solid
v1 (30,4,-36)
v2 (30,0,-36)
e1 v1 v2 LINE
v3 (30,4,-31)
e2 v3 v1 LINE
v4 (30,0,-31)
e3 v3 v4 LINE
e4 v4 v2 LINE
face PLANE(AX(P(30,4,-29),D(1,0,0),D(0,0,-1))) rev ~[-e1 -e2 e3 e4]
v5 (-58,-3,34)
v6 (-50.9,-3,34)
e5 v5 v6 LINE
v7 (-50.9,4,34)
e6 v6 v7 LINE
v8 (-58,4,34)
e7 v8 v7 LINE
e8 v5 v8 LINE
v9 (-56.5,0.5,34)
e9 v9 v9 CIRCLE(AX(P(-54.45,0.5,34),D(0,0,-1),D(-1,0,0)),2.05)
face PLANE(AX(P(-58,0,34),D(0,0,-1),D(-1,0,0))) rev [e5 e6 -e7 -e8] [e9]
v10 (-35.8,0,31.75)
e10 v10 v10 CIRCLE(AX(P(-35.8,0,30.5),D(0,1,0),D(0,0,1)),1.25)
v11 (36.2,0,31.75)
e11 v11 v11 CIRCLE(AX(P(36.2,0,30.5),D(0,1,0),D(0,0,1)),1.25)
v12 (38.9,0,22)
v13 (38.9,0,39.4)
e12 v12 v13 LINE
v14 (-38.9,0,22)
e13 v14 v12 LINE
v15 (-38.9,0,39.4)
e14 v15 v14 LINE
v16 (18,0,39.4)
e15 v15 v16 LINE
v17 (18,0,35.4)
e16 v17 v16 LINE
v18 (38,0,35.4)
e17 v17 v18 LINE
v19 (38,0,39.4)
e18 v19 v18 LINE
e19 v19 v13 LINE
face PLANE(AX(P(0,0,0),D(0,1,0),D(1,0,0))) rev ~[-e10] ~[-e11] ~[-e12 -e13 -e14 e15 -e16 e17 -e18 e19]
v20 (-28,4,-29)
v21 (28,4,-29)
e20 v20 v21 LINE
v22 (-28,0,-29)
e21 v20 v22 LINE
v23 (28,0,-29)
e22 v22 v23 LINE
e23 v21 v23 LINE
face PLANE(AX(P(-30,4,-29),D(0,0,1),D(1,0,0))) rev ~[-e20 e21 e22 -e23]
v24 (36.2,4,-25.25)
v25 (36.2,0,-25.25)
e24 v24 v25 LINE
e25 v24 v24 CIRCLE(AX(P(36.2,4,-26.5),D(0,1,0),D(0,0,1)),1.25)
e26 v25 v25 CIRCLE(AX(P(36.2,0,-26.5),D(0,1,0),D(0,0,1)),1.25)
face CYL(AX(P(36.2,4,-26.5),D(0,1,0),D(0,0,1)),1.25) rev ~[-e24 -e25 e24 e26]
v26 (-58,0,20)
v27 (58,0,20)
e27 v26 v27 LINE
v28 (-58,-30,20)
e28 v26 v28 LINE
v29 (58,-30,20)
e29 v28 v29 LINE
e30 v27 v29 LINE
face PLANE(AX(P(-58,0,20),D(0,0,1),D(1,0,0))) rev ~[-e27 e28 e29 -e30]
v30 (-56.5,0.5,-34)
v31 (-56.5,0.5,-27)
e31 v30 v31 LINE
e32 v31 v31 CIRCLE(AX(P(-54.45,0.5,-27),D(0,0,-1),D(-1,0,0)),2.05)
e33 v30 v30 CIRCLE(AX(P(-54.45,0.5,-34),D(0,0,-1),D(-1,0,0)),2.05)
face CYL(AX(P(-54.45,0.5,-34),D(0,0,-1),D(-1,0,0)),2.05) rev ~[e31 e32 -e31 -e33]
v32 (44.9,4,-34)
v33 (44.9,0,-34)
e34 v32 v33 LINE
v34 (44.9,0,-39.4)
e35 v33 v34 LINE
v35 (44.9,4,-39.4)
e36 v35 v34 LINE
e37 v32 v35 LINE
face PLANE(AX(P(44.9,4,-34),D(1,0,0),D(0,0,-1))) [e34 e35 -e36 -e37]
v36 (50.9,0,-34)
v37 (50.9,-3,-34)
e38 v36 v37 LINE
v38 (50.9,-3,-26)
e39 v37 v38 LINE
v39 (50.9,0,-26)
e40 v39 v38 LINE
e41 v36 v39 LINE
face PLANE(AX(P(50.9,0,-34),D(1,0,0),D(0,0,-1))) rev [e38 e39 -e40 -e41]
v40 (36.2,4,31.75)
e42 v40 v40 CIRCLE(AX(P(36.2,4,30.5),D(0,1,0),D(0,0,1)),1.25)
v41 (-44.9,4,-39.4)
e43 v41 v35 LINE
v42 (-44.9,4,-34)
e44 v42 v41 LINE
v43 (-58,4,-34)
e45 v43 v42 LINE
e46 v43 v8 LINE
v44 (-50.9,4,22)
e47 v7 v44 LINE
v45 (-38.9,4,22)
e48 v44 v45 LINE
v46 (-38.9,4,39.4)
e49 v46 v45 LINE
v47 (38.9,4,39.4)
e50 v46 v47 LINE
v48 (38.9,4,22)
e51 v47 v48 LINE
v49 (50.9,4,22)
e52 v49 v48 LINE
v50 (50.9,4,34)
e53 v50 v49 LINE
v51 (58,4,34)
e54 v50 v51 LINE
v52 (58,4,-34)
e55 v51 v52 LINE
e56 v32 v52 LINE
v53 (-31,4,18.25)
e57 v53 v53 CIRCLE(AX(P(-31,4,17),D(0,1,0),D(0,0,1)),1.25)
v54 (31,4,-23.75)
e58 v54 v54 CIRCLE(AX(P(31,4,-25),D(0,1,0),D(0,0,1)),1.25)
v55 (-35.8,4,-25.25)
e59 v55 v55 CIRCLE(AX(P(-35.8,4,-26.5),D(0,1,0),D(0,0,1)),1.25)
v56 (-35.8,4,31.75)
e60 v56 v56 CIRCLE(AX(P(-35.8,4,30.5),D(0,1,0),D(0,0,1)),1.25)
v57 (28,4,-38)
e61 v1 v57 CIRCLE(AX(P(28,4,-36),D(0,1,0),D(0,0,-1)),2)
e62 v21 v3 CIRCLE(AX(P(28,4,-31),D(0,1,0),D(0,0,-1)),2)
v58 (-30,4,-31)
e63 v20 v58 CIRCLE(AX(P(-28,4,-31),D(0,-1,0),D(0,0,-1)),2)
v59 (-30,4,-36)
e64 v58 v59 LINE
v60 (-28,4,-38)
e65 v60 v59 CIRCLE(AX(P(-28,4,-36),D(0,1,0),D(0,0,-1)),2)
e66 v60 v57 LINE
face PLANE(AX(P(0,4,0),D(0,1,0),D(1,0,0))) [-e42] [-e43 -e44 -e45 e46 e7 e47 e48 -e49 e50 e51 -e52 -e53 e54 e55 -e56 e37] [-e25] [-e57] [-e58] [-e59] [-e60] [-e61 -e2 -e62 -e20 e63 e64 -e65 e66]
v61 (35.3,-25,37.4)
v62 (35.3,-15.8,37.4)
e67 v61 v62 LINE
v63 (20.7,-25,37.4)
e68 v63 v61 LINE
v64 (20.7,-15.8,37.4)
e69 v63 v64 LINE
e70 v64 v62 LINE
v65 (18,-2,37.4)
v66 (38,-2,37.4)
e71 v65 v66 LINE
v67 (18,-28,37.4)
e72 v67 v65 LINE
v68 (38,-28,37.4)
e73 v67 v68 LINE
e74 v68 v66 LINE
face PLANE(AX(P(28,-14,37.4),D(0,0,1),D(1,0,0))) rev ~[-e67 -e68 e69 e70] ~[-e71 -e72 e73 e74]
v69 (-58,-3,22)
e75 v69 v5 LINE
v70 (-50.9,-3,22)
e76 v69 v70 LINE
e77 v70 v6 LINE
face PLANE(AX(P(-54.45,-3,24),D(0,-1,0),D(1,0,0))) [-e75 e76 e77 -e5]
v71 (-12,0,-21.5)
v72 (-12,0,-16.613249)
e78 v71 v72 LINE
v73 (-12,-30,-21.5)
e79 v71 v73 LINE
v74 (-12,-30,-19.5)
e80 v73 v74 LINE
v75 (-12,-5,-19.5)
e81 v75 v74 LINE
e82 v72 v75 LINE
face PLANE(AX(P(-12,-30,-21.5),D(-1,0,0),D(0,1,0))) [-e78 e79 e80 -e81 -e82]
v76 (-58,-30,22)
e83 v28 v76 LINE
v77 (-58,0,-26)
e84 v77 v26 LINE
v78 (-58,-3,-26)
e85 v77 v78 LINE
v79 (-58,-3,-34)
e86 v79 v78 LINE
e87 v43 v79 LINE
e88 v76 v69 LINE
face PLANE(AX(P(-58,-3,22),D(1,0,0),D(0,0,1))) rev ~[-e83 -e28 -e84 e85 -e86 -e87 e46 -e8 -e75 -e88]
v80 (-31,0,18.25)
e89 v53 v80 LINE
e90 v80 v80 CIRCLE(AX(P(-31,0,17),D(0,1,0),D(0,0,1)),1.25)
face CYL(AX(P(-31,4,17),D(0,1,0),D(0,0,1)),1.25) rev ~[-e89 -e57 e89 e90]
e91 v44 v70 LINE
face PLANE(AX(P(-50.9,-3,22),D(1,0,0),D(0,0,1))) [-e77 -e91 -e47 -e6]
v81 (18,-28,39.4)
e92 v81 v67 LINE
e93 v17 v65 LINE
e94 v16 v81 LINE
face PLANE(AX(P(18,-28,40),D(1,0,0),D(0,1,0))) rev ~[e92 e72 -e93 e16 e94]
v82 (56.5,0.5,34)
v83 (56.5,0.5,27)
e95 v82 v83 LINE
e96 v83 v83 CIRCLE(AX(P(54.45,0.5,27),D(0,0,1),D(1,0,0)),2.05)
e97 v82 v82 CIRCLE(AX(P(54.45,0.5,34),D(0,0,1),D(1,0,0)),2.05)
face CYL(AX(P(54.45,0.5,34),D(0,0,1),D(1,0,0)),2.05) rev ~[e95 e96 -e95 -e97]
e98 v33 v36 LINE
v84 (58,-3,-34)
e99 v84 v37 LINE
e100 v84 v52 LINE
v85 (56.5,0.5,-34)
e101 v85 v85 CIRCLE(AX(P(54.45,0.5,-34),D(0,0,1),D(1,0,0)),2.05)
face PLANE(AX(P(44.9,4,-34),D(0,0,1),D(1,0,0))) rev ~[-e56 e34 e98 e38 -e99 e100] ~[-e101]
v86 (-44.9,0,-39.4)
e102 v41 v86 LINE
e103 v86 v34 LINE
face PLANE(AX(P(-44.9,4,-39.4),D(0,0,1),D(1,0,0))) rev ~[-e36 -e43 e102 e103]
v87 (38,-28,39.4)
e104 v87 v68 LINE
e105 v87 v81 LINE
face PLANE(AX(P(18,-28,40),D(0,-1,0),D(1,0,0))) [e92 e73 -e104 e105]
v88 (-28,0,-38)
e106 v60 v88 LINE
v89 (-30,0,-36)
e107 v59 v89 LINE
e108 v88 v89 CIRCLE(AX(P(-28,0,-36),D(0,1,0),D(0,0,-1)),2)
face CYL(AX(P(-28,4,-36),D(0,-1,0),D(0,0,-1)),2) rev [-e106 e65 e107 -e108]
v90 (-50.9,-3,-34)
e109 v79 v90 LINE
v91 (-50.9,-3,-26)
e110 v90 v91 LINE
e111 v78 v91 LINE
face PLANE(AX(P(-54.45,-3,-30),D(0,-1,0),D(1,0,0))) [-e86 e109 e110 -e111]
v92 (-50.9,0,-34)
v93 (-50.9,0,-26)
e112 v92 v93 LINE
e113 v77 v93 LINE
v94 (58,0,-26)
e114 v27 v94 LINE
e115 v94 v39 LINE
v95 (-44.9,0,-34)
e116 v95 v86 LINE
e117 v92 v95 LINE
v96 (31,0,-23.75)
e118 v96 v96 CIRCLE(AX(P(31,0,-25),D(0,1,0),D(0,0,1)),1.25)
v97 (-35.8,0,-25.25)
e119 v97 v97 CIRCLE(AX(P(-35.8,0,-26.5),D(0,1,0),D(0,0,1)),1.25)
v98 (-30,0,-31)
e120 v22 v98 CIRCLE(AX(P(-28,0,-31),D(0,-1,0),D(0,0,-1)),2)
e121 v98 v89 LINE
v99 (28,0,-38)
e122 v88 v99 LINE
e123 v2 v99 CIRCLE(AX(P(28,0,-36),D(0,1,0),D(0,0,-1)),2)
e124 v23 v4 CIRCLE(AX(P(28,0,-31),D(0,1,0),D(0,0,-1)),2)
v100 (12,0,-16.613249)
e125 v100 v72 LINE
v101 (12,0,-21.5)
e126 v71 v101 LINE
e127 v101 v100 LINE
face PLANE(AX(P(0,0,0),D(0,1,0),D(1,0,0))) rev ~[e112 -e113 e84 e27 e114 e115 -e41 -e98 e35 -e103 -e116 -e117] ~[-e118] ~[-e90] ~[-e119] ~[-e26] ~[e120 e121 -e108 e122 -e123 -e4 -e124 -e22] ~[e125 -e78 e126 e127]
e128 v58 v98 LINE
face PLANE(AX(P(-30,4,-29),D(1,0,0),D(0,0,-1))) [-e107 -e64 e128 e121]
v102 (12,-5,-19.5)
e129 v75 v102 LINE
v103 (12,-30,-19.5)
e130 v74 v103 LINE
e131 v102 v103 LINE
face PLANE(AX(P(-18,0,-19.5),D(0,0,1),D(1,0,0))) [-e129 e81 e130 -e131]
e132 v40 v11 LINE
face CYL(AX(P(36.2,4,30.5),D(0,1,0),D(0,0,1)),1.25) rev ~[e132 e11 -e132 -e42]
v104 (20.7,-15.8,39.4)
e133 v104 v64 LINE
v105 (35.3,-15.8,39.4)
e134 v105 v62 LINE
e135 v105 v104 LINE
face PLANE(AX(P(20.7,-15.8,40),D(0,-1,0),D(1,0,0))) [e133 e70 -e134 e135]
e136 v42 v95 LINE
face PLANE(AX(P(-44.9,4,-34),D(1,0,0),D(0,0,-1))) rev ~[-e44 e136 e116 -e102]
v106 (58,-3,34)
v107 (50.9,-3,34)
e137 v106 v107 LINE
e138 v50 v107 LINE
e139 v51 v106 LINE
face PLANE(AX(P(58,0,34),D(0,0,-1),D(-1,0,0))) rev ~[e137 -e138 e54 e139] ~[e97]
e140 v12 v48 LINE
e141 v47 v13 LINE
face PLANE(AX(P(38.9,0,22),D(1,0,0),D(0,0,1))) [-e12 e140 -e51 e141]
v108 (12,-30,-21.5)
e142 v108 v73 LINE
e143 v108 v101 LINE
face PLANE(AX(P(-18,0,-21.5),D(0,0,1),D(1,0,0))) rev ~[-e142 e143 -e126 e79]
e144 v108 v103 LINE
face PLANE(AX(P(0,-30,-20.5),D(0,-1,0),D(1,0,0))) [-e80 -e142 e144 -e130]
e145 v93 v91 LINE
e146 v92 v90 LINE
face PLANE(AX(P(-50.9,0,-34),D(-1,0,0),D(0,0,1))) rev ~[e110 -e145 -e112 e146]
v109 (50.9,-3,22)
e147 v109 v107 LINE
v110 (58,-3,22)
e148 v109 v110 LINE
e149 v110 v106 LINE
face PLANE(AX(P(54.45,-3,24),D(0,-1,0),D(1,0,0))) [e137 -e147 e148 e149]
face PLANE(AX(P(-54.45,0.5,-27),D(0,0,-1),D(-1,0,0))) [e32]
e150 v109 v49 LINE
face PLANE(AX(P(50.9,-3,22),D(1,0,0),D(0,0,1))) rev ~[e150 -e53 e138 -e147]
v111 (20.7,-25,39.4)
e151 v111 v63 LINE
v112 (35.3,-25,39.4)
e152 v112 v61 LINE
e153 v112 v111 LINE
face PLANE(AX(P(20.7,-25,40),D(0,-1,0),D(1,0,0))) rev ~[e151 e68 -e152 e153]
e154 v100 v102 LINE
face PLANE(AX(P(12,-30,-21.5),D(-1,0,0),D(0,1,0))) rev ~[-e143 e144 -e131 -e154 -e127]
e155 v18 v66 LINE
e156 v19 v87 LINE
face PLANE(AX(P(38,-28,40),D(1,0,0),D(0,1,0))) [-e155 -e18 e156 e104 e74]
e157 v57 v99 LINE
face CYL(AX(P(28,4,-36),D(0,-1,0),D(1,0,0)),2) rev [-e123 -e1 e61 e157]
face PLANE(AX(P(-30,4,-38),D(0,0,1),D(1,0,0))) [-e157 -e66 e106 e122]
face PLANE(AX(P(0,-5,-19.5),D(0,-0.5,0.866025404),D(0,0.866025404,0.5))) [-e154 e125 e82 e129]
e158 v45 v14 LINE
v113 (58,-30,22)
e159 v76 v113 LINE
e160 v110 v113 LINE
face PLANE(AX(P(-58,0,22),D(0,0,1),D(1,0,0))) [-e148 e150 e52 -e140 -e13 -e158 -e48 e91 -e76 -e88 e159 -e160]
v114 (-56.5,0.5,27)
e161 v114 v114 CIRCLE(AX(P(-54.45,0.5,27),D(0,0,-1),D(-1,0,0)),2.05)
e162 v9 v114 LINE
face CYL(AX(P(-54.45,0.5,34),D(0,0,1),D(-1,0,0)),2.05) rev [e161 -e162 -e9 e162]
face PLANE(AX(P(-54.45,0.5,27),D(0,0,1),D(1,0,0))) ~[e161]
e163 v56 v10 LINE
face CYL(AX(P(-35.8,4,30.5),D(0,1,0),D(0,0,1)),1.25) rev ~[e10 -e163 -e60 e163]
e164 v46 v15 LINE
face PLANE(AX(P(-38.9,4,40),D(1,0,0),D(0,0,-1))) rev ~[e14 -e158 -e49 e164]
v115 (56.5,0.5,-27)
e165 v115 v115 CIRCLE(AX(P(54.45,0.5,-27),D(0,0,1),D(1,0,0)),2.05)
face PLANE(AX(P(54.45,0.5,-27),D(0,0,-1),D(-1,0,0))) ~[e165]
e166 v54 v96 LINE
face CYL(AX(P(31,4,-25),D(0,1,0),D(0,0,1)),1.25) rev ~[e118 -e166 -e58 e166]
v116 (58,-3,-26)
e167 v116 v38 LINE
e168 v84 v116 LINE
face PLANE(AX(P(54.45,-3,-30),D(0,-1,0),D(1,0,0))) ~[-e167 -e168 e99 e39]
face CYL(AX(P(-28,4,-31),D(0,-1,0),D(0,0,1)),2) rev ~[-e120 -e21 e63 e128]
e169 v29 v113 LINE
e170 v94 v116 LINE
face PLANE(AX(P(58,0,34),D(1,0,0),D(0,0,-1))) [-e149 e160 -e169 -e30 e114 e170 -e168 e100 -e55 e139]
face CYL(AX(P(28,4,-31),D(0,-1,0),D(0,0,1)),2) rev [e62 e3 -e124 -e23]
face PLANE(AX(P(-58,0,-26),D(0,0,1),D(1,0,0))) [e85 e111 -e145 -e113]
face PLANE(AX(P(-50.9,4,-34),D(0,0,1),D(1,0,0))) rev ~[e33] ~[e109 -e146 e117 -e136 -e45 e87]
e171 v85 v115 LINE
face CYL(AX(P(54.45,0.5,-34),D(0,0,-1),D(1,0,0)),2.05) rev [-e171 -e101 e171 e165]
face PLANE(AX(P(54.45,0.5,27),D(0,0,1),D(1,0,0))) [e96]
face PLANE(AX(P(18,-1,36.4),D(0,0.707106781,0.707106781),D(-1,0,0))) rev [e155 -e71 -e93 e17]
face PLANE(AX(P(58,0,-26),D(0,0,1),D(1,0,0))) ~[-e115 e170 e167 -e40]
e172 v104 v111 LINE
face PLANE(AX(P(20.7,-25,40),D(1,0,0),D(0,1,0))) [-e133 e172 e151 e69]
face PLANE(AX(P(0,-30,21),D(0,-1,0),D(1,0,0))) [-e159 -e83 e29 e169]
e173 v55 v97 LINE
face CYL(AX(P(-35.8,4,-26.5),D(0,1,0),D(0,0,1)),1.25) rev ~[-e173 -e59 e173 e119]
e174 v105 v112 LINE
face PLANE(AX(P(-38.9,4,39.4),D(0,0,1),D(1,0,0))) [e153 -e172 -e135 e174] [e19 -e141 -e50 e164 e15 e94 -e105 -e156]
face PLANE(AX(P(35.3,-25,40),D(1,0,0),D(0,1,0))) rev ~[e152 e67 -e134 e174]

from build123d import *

# Parameters (mm, degrees)
BOSS_EXTRUDE1_DEPTH             = 4
SKETCH3_W                       = 7.1
SKETCH3_H                       = 8
BOSS_EXTRUDE3_DEPTH             = 3
SKETCH4_R                       = 2.05
CUT_EXTRUDE1_DEPTH              = 7
MIRROR2_COPY_1_SKETCH_W         = 7.1
MIRROR2_COPY_1_SKETCH_H         = 8
MIRROR2_COPY_1_DEPTH            = 3
MIRROR2_COPY_2_SKETCH_R         = 2.05
MIRROR2_COPY_2_DEPTH            = 7
SKETCH5_W                       = 60
SKETCH5_H                       = 9
CUT_EXTRUDE2_DEPTH              = 72.37226352
FILLET1_R                       = 2
SKETCH7_W                       = 101.8
SKETCH7_H                       = 1
CUT_EXTRUDE3_DEPTH              = 72.37226352
SKETCH8_W                       = 116
SKETCH8_H                       = 2
BOSS_EXTRUDE4_DEPTH             = 30
SKETCH9_W                       = 12
SKETCH9_H                       = 18
CUT_EXTRUDE4_DEPTH              = 10
SKETCH10_W                      = 7.1
SKETCH10_H                      = 4
BOSS_EXTRUDE5_DEPTH             = 3
SKETCH12_W                      = 1.5
SKETCH12_H                      = 4
BOSS_EXTRUDE6_DEPTH             = 2
SKETCH13_W                      = 36
SKETCH13_H                      = 2
BOSS_EXTRUDE7_DEPTH             = 30
SKETCH14_W                      = 1.5
SKETCH14_H                      = 4
BOSS_EXTRUDE8_DEPTH             = 1
BOSS_EXTRUDE9_REACH             = 79.055
BOSS_EXTRUDE9_DIRECTION_2_REACH = 79.055
SKETCH16_W                      = 20
SKETCH16_H                      = 28
SKETCH16_W_2                    = 14.6
SKETCH16_H_2                    = 9.2
BOSS_EXTRUDE10_DEPTH            = 2.6
SKETCH17_W                      = 12
SKETCH17_H                      = 18
CUT_EXTRUDE5_DEPTH              = 78.054785705
SKETCH18_W                      = 6
SKETCH18_H                      = 6
CUT_EXTRUDE6_DEPTH              = 79.759380394
SKETCH22_R                      = 1.25
CUT_EXTRUDE7_DEPTH              = 4
SKETCH25_W                      = 6
SKETCH25_H                      = 30
CUT_EXTRUDE11_DEPTH             = 10
SKETCH26_W                      = 5.701552738
SKETCH26_H                      = 30.562488548
SKETCH26_W_2                    = 6.53419365
SKETCH26_H_2                    = 28.524331859
CUT_EXTRUDE12_DEPTH             = 78.810282097
CUT_EXTRUDE12_DEPTH_BACK        = 78.810282097
SKETCH27_R                      = 1.25
CUT_EXTRUDE13_DEPTH             = 79.230428862
SKETCH28_W                      = 89.8
SKETCH28_H                      = 0.6
SKETCH28_W_2                    = 77.8
CUT_EXTRUDE14_DEPTH             = 79.230428862
CHAMFER1_SIZE                   = 2


with BuildPart() as part:
    # Sketch1 → Boss-Extrude1 (new body)
    with BuildSketch(Plane(origin=(0, 0, 0), x_dir=(1, 0, 0), z_dir=(0, 1, 0))):
        Polygon((-58, -34), (-50.9, -34), (-50.9, -41), (50.9, -41), (50.9, -34), (58, -34), (58, 34), (50.9, 34), (50.9, 41), (-50.9, 41), (-50.9, 34), (-58, 34), align=None)
    extrude(amount=BOSS_EXTRUDE1_DEPTH)

    # Sketch3 → Boss-Extrude3 (add)
    with BuildSketch(Plane.XZ):
        with Locations((-54.45, -30)):
            Rectangle(SKETCH3_W, SKETCH3_H)
    boss_extrude3 = extrude(amount=BOSS_EXTRUDE3_DEPTH)

    # Sketch4 → Cut-Extrude1 (cut)
    with BuildSketch(Plane(origin=(0, 0, -34), x_dir=(-1, 0, 0), z_dir=(0, 0, -1))):
        with Locations((54.45, 0.5)):
            Circle(SKETCH4_R)
    cut_extrude1 = extrude(amount=-CUT_EXTRUDE1_DEPTH, mode=Mode.SUBTRACT)

    # Mirror1: Boss-Extrude3, Cut-Extrude1 across plane
    add(boss_extrude3.mirror(Plane(origin=(0, 0, 0), x_dir=(0, 0, 1), z_dir=(1, 0, 0))))
    add(cut_extrude1.mirror(Plane(origin=(0, 0, 0), x_dir=(0, 0, 1), z_dir=(1, 0, 0))), mode=Mode.SUBTRACT)

    # Mirror2: Boss-Extrude3, Cut-Extrude1 across plane
    add(boss_extrude3.mirror(Plane.XY))
    add(cut_extrude1.mirror(Plane.XY), mode=Mode.SUBTRACT)

    # Mirror2 copy 1 sketch → Mirror2 copy 1 (add)
    with BuildSketch(Plane(origin=(0, 0, 0), x_dir=(-1, 0, 0), z_dir=(0, -1, 0))):
        with Locations((-54.45, -30)):
            Rectangle(MIRROR2_COPY_1_SKETCH_W, MIRROR2_COPY_1_SKETCH_H)
    extrude(amount=MIRROR2_COPY_1_DEPTH)

    # Mirror2 copy 2 sketch → Mirror2 copy 2 (cut)
    with BuildSketch(Plane.XY.offset(34)):
        with Locations((54.45, 0.5)):
            Circle(MIRROR2_COPY_2_SKETCH_R)
    extrude(amount=-MIRROR2_COPY_2_DEPTH, mode=Mode.SUBTRACT)

    # Sketch5 → Cut-Extrude2 (cut, through all)
    with BuildSketch(Plane(origin=(0, 4, 0), x_dir=(1, 0, 0), z_dir=(0, 1, 0))):
        with Locations((0, 33.5)):
            Rectangle(SKETCH5_W, SKETCH5_H)
    extrude(amount=-CUT_EXTRUDE2_DEPTH, mode=Mode.SUBTRACT)

    # Fillet1
    fillet1_edges = [part.edges().sort_by_distance(p)[0] for p in [
        (-30, 2, -29),
        (-30, 2, -38),
        (30, 2, -38),
        (30, 2, -29),
    ]]
    fillet(fillet1_edges, radius=FILLET1_R)

    # Sketch7 → Cut-Extrude3 (cut, through all)
    with BuildSketch(Plane(origin=(0, 4, 0), x_dir=(1, 0, 0), z_dir=(0, 1, 0))):
        with Locations((0, 40.5)):
            Rectangle(SKETCH7_W, SKETCH7_H)
        with Locations((0, -40.5)):
            Rectangle(SKETCH7_W, SKETCH7_H)
    extrude(amount=-CUT_EXTRUDE3_DEPTH, mode=Mode.SUBTRACT)

    # Sketch8 → Boss-Extrude4 (add)
    with BuildSketch(Plane.XZ):
        with Locations((0, 21)):
            Rectangle(SKETCH8_W, SKETCH8_H)
    extrude(amount=BOSS_EXTRUDE4_DEPTH)

    # Sketch9 → Cut-Extrude4 (cut)
    with BuildSketch(Plane(origin=(0, 4, 0), x_dir=(1, 0, 0), z_dir=(0, 1, 0))):
        with Locations((-44.9, -31)):
            Rectangle(SKETCH9_W, SKETCH9_H)
    extrude(amount=-CUT_EXTRUDE4_DEPTH, mode=Mode.SUBTRACT)

    # Sketch10 → Boss-Extrude5 (add)
    with BuildSketch(Plane.XZ.offset(3)):
        with Locations((-54.45, 24)):
            Rectangle(SKETCH10_W, SKETCH10_H)
        with Locations((54.45, 24)):
            Rectangle(SKETCH10_W, SKETCH10_H)
    extrude(amount=-BOSS_EXTRUDE5_DEPTH)

    # Sketch12 → Boss-Extrude6 (add)
    with BuildSketch(Plane.ZY.offset(51)):
        Polygon((22, -5.8), (22, -16.2), (24.7, -13.5), (24.7, -8.5), align=None)
        with Locations((23.35, -11)):
            Rectangle(SKETCH12_W, SKETCH12_H, mode=Mode.SUBTRACT)
        Polygon((22, -20.8), (22, -31.2), (24.7, -28.5), (24.7, -23.5), align=None)
        with Locations((23.35, -26)):
            Rectangle(SKETCH12_W, SKETCH12_H, mode=Mode.SUBTRACT)
    boss_extrude6 = extrude(amount=-BOSS_EXTRUDE6_DEPTH)

    # Mirror3: Boss-Extrude6 across plane
    add(boss_extrude6.mirror(Plane(origin=(-44.9, 0, 0), x_dir=(0, 0, 1), z_dir=(1, 0, 0))))

    # Sketch13 → Boss-Extrude7 (add)
    with BuildSketch(Plane.XZ):
        with Locations((0, -20.5)):
            Rectangle(SKETCH13_W, SKETCH13_H)
    extrude(amount=BOSS_EXTRUDE7_DEPTH)

    # Sketch14 → Boss-Extrude8 (add, symmetric)
    with BuildSketch(Plane(origin=(0, 0, 0), x_dir=(0, 0, -1), z_dir=(1, 0, 0))):
        Polygon((24.2, -8.5), (21.5, -5.8), (21.5, -16.2), (24.2, -13.5), align=None)
        with Locations((22.85, -11)):
            Rectangle(SKETCH14_W, SKETCH14_H, mode=Mode.SUBTRACT)
    extrude(amount=BOSS_EXTRUDE8_DEPTH, both=True)

    # Boss-Extrude9: up to this face of the body (flat: up to its plane)
    boss_extrude9_end = Plane(part.part.faces().sort_by_distance((-18, -15, -20.5))[0])
    # Sketch15 → Boss-Extrude9 (add, up to the picked face)
    with BuildSketch(Plane(origin=(0, 0, 0), x_dir=(0, 0, -1), z_dir=(1, 0, 0)), mode=Mode.PRIVATE) as boss_extrude9_sk1:
        Polygon((19.5, 0), (19.5, -5), (16.613248654, 0), align=None)
    boss_extrude9_tool1 = split(extrude(boss_extrude9_sk1.sketch, amount=-BOSS_EXTRUDE9_REACH, mode=Mode.PRIVATE), bisect_by=boss_extrude9_end, keep=Keep.BOTH, mode=Mode.PRIVATE)
    add(boss_extrude9_tool1.solids().sort_by(Axis((0, -1.666667, -18.53775), (-1, 0, 0)))[0])

    # Boss-Extrude9 direction 2: up to this face of the body (flat: up to its plane)
    boss_extrude9_direction_2_end = Plane(part.part.faces().sort_by_distance((18, -15, -20.5))[0])
    # Sketch15 → Boss-Extrude9 direction 2 (add, up to the picked face)
    with BuildSketch(Plane(origin=(0, 0, 0), x_dir=(0, 0, -1), z_dir=(1, 0, 0)), mode=Mode.PRIVATE) as boss_extrude9_direction_2_sk1:
        Polygon((19.5, 0), (19.5, -5), (16.613248654, 0), align=None)
    boss_extrude9_direction_2_tool1 = split(extrude(boss_extrude9_direction_2_sk1.sketch, amount=BOSS_EXTRUDE9_DIRECTION_2_REACH, mode=Mode.PRIVATE), bisect_by=boss_extrude9_direction_2_end, keep=Keep.BOTH, mode=Mode.PRIVATE)
    add(boss_extrude9_direction_2_tool1.solids().sort_by(Axis((0, -1.666667, -18.53775), (1, 0, 0)))[0])

    # Sketch16 → Boss-Extrude10 (add)
    with BuildSketch(Plane.XY.offset(40)):
        with Locations((28, -14)):
            Rectangle(SKETCH16_W, SKETCH16_H)
        with Locations((28, -20.4)):
            Rectangle(SKETCH16_W_2, SKETCH16_H_2, mode=Mode.SUBTRACT)
    extrude(amount=-BOSS_EXTRUDE10_DEPTH)

    # Sketch17 → Cut-Extrude5 (cut, through all)
    with BuildSketch(Plane.XZ):
        with Locations((44.9, 31)):
            Rectangle(SKETCH17_W, SKETCH17_H)
    extrude(amount=-CUT_EXTRUDE5_DEPTH, mode=Mode.SUBTRACT)

    # Sketch18 → Cut-Extrude6 (cut, through all)
    with BuildSketch(Plane(origin=(0, 4, 0), x_dir=(1, 0, 0), z_dir=(0, 1, 0))):
        with Locations((47.9, 37)):
            Rectangle(SKETCH18_W, SKETCH18_H)
        with Locations((-47.9, 37)):
            Rectangle(SKETCH18_W, SKETCH18_H)
    extrude(amount=-CUT_EXTRUDE6_DEPTH, mode=Mode.SUBTRACT)

    # Sketch22 → Cut-Extrude7 (cut)
    with BuildSketch(Plane(origin=(0, 4, 0), x_dir=(1, 0, 0), z_dir=(0, 1, 0))):
        with Locations(Location((31, 25, 0), (0, 0, 270))):
            Circle(SKETCH22_R)
        with Locations(Location((-31, -17, 0), (0, 0, 270))):
            Circle(SKETCH22_R)
    extrude(amount=-CUT_EXTRUDE7_DEPTH, mode=Mode.SUBTRACT)

    # Sketch25 → Cut-Extrude11 (cut)
    with BuildSketch(Plane(origin=(0, 0, -21.5), x_dir=(-1, 0, 0), z_dir=(0, 0, -1))):
        with Locations((-15, -15)):
            Rectangle(SKETCH25_W, SKETCH25_H)
        with Locations((15, -15)):
            Rectangle(SKETCH25_W, SKETCH25_H)
    extrude(amount=-CUT_EXTRUDE11_DEPTH, mode=Mode.SUBTRACT)

    # Sketch26 → Cut-Extrude12 (cut, two sides)
    with BuildSketch(Plane.ZY.offset(1)) as cut_extrude12_sk:
        with Locations((-24.350776369, -21.081244274)):
            Rectangle(SKETCH26_W, SKETCH26_H)
        with Locations((25.267096825, -20.06216593)):
            Rectangle(SKETCH26_W_2, SKETCH26_H_2)
    extrude(amount=CUT_EXTRUDE12_DEPTH, mode=Mode.SUBTRACT)
    extrude(cut_extrude12_sk.sketch, amount=-CUT_EXTRUDE12_DEPTH_BACK, mode=Mode.SUBTRACT)

    # Sketch27 → Cut-Extrude13 (cut, through all)
    with BuildSketch(Plane(origin=(0, 4, 0), x_dir=(1, 0, 0), z_dir=(0, 1, 0))):
        with Locations(Location((-35.8, 26.5, 0), (0, 0, 270))):
            Circle(SKETCH27_R)
        with Locations(Location((-35.8, -30.5, 0), (0, 0, 270))):
            Circle(SKETCH27_R)
        with Locations(Location((36.2, -30.5, 0), (0, 0, 270))):
            Circle(SKETCH27_R)
        with Locations(Location((36.2, 26.5, 0), (0, 0, 270))):
            Circle(SKETCH27_R)
    extrude(amount=-CUT_EXTRUDE13_DEPTH, mode=Mode.SUBTRACT)

    # Sketch28 → Cut-Extrude14 (cut, through all)
    with BuildSketch(Plane(origin=(0, 4, 0), x_dir=(1, 0, 0), z_dir=(0, 1, 0))):
        with Locations((0, 39.7)):
            Rectangle(SKETCH28_W, SKETCH28_H)
        with Locations((0, -39.7)):
            Rectangle(SKETCH28_W_2, SKETCH28_H)
    extrude(amount=-CUT_EXTRUDE14_DEPTH, mode=Mode.SUBTRACT)

    # Chamfer1
    chamfer1_edges = [part.edges().sort_by_distance(p)[0] for p in [
        (28, 0, 37.4),
    ]]
    chamfer(chamfer1_edges, length=CHAMFER1_SIZE)


solid = part.part
